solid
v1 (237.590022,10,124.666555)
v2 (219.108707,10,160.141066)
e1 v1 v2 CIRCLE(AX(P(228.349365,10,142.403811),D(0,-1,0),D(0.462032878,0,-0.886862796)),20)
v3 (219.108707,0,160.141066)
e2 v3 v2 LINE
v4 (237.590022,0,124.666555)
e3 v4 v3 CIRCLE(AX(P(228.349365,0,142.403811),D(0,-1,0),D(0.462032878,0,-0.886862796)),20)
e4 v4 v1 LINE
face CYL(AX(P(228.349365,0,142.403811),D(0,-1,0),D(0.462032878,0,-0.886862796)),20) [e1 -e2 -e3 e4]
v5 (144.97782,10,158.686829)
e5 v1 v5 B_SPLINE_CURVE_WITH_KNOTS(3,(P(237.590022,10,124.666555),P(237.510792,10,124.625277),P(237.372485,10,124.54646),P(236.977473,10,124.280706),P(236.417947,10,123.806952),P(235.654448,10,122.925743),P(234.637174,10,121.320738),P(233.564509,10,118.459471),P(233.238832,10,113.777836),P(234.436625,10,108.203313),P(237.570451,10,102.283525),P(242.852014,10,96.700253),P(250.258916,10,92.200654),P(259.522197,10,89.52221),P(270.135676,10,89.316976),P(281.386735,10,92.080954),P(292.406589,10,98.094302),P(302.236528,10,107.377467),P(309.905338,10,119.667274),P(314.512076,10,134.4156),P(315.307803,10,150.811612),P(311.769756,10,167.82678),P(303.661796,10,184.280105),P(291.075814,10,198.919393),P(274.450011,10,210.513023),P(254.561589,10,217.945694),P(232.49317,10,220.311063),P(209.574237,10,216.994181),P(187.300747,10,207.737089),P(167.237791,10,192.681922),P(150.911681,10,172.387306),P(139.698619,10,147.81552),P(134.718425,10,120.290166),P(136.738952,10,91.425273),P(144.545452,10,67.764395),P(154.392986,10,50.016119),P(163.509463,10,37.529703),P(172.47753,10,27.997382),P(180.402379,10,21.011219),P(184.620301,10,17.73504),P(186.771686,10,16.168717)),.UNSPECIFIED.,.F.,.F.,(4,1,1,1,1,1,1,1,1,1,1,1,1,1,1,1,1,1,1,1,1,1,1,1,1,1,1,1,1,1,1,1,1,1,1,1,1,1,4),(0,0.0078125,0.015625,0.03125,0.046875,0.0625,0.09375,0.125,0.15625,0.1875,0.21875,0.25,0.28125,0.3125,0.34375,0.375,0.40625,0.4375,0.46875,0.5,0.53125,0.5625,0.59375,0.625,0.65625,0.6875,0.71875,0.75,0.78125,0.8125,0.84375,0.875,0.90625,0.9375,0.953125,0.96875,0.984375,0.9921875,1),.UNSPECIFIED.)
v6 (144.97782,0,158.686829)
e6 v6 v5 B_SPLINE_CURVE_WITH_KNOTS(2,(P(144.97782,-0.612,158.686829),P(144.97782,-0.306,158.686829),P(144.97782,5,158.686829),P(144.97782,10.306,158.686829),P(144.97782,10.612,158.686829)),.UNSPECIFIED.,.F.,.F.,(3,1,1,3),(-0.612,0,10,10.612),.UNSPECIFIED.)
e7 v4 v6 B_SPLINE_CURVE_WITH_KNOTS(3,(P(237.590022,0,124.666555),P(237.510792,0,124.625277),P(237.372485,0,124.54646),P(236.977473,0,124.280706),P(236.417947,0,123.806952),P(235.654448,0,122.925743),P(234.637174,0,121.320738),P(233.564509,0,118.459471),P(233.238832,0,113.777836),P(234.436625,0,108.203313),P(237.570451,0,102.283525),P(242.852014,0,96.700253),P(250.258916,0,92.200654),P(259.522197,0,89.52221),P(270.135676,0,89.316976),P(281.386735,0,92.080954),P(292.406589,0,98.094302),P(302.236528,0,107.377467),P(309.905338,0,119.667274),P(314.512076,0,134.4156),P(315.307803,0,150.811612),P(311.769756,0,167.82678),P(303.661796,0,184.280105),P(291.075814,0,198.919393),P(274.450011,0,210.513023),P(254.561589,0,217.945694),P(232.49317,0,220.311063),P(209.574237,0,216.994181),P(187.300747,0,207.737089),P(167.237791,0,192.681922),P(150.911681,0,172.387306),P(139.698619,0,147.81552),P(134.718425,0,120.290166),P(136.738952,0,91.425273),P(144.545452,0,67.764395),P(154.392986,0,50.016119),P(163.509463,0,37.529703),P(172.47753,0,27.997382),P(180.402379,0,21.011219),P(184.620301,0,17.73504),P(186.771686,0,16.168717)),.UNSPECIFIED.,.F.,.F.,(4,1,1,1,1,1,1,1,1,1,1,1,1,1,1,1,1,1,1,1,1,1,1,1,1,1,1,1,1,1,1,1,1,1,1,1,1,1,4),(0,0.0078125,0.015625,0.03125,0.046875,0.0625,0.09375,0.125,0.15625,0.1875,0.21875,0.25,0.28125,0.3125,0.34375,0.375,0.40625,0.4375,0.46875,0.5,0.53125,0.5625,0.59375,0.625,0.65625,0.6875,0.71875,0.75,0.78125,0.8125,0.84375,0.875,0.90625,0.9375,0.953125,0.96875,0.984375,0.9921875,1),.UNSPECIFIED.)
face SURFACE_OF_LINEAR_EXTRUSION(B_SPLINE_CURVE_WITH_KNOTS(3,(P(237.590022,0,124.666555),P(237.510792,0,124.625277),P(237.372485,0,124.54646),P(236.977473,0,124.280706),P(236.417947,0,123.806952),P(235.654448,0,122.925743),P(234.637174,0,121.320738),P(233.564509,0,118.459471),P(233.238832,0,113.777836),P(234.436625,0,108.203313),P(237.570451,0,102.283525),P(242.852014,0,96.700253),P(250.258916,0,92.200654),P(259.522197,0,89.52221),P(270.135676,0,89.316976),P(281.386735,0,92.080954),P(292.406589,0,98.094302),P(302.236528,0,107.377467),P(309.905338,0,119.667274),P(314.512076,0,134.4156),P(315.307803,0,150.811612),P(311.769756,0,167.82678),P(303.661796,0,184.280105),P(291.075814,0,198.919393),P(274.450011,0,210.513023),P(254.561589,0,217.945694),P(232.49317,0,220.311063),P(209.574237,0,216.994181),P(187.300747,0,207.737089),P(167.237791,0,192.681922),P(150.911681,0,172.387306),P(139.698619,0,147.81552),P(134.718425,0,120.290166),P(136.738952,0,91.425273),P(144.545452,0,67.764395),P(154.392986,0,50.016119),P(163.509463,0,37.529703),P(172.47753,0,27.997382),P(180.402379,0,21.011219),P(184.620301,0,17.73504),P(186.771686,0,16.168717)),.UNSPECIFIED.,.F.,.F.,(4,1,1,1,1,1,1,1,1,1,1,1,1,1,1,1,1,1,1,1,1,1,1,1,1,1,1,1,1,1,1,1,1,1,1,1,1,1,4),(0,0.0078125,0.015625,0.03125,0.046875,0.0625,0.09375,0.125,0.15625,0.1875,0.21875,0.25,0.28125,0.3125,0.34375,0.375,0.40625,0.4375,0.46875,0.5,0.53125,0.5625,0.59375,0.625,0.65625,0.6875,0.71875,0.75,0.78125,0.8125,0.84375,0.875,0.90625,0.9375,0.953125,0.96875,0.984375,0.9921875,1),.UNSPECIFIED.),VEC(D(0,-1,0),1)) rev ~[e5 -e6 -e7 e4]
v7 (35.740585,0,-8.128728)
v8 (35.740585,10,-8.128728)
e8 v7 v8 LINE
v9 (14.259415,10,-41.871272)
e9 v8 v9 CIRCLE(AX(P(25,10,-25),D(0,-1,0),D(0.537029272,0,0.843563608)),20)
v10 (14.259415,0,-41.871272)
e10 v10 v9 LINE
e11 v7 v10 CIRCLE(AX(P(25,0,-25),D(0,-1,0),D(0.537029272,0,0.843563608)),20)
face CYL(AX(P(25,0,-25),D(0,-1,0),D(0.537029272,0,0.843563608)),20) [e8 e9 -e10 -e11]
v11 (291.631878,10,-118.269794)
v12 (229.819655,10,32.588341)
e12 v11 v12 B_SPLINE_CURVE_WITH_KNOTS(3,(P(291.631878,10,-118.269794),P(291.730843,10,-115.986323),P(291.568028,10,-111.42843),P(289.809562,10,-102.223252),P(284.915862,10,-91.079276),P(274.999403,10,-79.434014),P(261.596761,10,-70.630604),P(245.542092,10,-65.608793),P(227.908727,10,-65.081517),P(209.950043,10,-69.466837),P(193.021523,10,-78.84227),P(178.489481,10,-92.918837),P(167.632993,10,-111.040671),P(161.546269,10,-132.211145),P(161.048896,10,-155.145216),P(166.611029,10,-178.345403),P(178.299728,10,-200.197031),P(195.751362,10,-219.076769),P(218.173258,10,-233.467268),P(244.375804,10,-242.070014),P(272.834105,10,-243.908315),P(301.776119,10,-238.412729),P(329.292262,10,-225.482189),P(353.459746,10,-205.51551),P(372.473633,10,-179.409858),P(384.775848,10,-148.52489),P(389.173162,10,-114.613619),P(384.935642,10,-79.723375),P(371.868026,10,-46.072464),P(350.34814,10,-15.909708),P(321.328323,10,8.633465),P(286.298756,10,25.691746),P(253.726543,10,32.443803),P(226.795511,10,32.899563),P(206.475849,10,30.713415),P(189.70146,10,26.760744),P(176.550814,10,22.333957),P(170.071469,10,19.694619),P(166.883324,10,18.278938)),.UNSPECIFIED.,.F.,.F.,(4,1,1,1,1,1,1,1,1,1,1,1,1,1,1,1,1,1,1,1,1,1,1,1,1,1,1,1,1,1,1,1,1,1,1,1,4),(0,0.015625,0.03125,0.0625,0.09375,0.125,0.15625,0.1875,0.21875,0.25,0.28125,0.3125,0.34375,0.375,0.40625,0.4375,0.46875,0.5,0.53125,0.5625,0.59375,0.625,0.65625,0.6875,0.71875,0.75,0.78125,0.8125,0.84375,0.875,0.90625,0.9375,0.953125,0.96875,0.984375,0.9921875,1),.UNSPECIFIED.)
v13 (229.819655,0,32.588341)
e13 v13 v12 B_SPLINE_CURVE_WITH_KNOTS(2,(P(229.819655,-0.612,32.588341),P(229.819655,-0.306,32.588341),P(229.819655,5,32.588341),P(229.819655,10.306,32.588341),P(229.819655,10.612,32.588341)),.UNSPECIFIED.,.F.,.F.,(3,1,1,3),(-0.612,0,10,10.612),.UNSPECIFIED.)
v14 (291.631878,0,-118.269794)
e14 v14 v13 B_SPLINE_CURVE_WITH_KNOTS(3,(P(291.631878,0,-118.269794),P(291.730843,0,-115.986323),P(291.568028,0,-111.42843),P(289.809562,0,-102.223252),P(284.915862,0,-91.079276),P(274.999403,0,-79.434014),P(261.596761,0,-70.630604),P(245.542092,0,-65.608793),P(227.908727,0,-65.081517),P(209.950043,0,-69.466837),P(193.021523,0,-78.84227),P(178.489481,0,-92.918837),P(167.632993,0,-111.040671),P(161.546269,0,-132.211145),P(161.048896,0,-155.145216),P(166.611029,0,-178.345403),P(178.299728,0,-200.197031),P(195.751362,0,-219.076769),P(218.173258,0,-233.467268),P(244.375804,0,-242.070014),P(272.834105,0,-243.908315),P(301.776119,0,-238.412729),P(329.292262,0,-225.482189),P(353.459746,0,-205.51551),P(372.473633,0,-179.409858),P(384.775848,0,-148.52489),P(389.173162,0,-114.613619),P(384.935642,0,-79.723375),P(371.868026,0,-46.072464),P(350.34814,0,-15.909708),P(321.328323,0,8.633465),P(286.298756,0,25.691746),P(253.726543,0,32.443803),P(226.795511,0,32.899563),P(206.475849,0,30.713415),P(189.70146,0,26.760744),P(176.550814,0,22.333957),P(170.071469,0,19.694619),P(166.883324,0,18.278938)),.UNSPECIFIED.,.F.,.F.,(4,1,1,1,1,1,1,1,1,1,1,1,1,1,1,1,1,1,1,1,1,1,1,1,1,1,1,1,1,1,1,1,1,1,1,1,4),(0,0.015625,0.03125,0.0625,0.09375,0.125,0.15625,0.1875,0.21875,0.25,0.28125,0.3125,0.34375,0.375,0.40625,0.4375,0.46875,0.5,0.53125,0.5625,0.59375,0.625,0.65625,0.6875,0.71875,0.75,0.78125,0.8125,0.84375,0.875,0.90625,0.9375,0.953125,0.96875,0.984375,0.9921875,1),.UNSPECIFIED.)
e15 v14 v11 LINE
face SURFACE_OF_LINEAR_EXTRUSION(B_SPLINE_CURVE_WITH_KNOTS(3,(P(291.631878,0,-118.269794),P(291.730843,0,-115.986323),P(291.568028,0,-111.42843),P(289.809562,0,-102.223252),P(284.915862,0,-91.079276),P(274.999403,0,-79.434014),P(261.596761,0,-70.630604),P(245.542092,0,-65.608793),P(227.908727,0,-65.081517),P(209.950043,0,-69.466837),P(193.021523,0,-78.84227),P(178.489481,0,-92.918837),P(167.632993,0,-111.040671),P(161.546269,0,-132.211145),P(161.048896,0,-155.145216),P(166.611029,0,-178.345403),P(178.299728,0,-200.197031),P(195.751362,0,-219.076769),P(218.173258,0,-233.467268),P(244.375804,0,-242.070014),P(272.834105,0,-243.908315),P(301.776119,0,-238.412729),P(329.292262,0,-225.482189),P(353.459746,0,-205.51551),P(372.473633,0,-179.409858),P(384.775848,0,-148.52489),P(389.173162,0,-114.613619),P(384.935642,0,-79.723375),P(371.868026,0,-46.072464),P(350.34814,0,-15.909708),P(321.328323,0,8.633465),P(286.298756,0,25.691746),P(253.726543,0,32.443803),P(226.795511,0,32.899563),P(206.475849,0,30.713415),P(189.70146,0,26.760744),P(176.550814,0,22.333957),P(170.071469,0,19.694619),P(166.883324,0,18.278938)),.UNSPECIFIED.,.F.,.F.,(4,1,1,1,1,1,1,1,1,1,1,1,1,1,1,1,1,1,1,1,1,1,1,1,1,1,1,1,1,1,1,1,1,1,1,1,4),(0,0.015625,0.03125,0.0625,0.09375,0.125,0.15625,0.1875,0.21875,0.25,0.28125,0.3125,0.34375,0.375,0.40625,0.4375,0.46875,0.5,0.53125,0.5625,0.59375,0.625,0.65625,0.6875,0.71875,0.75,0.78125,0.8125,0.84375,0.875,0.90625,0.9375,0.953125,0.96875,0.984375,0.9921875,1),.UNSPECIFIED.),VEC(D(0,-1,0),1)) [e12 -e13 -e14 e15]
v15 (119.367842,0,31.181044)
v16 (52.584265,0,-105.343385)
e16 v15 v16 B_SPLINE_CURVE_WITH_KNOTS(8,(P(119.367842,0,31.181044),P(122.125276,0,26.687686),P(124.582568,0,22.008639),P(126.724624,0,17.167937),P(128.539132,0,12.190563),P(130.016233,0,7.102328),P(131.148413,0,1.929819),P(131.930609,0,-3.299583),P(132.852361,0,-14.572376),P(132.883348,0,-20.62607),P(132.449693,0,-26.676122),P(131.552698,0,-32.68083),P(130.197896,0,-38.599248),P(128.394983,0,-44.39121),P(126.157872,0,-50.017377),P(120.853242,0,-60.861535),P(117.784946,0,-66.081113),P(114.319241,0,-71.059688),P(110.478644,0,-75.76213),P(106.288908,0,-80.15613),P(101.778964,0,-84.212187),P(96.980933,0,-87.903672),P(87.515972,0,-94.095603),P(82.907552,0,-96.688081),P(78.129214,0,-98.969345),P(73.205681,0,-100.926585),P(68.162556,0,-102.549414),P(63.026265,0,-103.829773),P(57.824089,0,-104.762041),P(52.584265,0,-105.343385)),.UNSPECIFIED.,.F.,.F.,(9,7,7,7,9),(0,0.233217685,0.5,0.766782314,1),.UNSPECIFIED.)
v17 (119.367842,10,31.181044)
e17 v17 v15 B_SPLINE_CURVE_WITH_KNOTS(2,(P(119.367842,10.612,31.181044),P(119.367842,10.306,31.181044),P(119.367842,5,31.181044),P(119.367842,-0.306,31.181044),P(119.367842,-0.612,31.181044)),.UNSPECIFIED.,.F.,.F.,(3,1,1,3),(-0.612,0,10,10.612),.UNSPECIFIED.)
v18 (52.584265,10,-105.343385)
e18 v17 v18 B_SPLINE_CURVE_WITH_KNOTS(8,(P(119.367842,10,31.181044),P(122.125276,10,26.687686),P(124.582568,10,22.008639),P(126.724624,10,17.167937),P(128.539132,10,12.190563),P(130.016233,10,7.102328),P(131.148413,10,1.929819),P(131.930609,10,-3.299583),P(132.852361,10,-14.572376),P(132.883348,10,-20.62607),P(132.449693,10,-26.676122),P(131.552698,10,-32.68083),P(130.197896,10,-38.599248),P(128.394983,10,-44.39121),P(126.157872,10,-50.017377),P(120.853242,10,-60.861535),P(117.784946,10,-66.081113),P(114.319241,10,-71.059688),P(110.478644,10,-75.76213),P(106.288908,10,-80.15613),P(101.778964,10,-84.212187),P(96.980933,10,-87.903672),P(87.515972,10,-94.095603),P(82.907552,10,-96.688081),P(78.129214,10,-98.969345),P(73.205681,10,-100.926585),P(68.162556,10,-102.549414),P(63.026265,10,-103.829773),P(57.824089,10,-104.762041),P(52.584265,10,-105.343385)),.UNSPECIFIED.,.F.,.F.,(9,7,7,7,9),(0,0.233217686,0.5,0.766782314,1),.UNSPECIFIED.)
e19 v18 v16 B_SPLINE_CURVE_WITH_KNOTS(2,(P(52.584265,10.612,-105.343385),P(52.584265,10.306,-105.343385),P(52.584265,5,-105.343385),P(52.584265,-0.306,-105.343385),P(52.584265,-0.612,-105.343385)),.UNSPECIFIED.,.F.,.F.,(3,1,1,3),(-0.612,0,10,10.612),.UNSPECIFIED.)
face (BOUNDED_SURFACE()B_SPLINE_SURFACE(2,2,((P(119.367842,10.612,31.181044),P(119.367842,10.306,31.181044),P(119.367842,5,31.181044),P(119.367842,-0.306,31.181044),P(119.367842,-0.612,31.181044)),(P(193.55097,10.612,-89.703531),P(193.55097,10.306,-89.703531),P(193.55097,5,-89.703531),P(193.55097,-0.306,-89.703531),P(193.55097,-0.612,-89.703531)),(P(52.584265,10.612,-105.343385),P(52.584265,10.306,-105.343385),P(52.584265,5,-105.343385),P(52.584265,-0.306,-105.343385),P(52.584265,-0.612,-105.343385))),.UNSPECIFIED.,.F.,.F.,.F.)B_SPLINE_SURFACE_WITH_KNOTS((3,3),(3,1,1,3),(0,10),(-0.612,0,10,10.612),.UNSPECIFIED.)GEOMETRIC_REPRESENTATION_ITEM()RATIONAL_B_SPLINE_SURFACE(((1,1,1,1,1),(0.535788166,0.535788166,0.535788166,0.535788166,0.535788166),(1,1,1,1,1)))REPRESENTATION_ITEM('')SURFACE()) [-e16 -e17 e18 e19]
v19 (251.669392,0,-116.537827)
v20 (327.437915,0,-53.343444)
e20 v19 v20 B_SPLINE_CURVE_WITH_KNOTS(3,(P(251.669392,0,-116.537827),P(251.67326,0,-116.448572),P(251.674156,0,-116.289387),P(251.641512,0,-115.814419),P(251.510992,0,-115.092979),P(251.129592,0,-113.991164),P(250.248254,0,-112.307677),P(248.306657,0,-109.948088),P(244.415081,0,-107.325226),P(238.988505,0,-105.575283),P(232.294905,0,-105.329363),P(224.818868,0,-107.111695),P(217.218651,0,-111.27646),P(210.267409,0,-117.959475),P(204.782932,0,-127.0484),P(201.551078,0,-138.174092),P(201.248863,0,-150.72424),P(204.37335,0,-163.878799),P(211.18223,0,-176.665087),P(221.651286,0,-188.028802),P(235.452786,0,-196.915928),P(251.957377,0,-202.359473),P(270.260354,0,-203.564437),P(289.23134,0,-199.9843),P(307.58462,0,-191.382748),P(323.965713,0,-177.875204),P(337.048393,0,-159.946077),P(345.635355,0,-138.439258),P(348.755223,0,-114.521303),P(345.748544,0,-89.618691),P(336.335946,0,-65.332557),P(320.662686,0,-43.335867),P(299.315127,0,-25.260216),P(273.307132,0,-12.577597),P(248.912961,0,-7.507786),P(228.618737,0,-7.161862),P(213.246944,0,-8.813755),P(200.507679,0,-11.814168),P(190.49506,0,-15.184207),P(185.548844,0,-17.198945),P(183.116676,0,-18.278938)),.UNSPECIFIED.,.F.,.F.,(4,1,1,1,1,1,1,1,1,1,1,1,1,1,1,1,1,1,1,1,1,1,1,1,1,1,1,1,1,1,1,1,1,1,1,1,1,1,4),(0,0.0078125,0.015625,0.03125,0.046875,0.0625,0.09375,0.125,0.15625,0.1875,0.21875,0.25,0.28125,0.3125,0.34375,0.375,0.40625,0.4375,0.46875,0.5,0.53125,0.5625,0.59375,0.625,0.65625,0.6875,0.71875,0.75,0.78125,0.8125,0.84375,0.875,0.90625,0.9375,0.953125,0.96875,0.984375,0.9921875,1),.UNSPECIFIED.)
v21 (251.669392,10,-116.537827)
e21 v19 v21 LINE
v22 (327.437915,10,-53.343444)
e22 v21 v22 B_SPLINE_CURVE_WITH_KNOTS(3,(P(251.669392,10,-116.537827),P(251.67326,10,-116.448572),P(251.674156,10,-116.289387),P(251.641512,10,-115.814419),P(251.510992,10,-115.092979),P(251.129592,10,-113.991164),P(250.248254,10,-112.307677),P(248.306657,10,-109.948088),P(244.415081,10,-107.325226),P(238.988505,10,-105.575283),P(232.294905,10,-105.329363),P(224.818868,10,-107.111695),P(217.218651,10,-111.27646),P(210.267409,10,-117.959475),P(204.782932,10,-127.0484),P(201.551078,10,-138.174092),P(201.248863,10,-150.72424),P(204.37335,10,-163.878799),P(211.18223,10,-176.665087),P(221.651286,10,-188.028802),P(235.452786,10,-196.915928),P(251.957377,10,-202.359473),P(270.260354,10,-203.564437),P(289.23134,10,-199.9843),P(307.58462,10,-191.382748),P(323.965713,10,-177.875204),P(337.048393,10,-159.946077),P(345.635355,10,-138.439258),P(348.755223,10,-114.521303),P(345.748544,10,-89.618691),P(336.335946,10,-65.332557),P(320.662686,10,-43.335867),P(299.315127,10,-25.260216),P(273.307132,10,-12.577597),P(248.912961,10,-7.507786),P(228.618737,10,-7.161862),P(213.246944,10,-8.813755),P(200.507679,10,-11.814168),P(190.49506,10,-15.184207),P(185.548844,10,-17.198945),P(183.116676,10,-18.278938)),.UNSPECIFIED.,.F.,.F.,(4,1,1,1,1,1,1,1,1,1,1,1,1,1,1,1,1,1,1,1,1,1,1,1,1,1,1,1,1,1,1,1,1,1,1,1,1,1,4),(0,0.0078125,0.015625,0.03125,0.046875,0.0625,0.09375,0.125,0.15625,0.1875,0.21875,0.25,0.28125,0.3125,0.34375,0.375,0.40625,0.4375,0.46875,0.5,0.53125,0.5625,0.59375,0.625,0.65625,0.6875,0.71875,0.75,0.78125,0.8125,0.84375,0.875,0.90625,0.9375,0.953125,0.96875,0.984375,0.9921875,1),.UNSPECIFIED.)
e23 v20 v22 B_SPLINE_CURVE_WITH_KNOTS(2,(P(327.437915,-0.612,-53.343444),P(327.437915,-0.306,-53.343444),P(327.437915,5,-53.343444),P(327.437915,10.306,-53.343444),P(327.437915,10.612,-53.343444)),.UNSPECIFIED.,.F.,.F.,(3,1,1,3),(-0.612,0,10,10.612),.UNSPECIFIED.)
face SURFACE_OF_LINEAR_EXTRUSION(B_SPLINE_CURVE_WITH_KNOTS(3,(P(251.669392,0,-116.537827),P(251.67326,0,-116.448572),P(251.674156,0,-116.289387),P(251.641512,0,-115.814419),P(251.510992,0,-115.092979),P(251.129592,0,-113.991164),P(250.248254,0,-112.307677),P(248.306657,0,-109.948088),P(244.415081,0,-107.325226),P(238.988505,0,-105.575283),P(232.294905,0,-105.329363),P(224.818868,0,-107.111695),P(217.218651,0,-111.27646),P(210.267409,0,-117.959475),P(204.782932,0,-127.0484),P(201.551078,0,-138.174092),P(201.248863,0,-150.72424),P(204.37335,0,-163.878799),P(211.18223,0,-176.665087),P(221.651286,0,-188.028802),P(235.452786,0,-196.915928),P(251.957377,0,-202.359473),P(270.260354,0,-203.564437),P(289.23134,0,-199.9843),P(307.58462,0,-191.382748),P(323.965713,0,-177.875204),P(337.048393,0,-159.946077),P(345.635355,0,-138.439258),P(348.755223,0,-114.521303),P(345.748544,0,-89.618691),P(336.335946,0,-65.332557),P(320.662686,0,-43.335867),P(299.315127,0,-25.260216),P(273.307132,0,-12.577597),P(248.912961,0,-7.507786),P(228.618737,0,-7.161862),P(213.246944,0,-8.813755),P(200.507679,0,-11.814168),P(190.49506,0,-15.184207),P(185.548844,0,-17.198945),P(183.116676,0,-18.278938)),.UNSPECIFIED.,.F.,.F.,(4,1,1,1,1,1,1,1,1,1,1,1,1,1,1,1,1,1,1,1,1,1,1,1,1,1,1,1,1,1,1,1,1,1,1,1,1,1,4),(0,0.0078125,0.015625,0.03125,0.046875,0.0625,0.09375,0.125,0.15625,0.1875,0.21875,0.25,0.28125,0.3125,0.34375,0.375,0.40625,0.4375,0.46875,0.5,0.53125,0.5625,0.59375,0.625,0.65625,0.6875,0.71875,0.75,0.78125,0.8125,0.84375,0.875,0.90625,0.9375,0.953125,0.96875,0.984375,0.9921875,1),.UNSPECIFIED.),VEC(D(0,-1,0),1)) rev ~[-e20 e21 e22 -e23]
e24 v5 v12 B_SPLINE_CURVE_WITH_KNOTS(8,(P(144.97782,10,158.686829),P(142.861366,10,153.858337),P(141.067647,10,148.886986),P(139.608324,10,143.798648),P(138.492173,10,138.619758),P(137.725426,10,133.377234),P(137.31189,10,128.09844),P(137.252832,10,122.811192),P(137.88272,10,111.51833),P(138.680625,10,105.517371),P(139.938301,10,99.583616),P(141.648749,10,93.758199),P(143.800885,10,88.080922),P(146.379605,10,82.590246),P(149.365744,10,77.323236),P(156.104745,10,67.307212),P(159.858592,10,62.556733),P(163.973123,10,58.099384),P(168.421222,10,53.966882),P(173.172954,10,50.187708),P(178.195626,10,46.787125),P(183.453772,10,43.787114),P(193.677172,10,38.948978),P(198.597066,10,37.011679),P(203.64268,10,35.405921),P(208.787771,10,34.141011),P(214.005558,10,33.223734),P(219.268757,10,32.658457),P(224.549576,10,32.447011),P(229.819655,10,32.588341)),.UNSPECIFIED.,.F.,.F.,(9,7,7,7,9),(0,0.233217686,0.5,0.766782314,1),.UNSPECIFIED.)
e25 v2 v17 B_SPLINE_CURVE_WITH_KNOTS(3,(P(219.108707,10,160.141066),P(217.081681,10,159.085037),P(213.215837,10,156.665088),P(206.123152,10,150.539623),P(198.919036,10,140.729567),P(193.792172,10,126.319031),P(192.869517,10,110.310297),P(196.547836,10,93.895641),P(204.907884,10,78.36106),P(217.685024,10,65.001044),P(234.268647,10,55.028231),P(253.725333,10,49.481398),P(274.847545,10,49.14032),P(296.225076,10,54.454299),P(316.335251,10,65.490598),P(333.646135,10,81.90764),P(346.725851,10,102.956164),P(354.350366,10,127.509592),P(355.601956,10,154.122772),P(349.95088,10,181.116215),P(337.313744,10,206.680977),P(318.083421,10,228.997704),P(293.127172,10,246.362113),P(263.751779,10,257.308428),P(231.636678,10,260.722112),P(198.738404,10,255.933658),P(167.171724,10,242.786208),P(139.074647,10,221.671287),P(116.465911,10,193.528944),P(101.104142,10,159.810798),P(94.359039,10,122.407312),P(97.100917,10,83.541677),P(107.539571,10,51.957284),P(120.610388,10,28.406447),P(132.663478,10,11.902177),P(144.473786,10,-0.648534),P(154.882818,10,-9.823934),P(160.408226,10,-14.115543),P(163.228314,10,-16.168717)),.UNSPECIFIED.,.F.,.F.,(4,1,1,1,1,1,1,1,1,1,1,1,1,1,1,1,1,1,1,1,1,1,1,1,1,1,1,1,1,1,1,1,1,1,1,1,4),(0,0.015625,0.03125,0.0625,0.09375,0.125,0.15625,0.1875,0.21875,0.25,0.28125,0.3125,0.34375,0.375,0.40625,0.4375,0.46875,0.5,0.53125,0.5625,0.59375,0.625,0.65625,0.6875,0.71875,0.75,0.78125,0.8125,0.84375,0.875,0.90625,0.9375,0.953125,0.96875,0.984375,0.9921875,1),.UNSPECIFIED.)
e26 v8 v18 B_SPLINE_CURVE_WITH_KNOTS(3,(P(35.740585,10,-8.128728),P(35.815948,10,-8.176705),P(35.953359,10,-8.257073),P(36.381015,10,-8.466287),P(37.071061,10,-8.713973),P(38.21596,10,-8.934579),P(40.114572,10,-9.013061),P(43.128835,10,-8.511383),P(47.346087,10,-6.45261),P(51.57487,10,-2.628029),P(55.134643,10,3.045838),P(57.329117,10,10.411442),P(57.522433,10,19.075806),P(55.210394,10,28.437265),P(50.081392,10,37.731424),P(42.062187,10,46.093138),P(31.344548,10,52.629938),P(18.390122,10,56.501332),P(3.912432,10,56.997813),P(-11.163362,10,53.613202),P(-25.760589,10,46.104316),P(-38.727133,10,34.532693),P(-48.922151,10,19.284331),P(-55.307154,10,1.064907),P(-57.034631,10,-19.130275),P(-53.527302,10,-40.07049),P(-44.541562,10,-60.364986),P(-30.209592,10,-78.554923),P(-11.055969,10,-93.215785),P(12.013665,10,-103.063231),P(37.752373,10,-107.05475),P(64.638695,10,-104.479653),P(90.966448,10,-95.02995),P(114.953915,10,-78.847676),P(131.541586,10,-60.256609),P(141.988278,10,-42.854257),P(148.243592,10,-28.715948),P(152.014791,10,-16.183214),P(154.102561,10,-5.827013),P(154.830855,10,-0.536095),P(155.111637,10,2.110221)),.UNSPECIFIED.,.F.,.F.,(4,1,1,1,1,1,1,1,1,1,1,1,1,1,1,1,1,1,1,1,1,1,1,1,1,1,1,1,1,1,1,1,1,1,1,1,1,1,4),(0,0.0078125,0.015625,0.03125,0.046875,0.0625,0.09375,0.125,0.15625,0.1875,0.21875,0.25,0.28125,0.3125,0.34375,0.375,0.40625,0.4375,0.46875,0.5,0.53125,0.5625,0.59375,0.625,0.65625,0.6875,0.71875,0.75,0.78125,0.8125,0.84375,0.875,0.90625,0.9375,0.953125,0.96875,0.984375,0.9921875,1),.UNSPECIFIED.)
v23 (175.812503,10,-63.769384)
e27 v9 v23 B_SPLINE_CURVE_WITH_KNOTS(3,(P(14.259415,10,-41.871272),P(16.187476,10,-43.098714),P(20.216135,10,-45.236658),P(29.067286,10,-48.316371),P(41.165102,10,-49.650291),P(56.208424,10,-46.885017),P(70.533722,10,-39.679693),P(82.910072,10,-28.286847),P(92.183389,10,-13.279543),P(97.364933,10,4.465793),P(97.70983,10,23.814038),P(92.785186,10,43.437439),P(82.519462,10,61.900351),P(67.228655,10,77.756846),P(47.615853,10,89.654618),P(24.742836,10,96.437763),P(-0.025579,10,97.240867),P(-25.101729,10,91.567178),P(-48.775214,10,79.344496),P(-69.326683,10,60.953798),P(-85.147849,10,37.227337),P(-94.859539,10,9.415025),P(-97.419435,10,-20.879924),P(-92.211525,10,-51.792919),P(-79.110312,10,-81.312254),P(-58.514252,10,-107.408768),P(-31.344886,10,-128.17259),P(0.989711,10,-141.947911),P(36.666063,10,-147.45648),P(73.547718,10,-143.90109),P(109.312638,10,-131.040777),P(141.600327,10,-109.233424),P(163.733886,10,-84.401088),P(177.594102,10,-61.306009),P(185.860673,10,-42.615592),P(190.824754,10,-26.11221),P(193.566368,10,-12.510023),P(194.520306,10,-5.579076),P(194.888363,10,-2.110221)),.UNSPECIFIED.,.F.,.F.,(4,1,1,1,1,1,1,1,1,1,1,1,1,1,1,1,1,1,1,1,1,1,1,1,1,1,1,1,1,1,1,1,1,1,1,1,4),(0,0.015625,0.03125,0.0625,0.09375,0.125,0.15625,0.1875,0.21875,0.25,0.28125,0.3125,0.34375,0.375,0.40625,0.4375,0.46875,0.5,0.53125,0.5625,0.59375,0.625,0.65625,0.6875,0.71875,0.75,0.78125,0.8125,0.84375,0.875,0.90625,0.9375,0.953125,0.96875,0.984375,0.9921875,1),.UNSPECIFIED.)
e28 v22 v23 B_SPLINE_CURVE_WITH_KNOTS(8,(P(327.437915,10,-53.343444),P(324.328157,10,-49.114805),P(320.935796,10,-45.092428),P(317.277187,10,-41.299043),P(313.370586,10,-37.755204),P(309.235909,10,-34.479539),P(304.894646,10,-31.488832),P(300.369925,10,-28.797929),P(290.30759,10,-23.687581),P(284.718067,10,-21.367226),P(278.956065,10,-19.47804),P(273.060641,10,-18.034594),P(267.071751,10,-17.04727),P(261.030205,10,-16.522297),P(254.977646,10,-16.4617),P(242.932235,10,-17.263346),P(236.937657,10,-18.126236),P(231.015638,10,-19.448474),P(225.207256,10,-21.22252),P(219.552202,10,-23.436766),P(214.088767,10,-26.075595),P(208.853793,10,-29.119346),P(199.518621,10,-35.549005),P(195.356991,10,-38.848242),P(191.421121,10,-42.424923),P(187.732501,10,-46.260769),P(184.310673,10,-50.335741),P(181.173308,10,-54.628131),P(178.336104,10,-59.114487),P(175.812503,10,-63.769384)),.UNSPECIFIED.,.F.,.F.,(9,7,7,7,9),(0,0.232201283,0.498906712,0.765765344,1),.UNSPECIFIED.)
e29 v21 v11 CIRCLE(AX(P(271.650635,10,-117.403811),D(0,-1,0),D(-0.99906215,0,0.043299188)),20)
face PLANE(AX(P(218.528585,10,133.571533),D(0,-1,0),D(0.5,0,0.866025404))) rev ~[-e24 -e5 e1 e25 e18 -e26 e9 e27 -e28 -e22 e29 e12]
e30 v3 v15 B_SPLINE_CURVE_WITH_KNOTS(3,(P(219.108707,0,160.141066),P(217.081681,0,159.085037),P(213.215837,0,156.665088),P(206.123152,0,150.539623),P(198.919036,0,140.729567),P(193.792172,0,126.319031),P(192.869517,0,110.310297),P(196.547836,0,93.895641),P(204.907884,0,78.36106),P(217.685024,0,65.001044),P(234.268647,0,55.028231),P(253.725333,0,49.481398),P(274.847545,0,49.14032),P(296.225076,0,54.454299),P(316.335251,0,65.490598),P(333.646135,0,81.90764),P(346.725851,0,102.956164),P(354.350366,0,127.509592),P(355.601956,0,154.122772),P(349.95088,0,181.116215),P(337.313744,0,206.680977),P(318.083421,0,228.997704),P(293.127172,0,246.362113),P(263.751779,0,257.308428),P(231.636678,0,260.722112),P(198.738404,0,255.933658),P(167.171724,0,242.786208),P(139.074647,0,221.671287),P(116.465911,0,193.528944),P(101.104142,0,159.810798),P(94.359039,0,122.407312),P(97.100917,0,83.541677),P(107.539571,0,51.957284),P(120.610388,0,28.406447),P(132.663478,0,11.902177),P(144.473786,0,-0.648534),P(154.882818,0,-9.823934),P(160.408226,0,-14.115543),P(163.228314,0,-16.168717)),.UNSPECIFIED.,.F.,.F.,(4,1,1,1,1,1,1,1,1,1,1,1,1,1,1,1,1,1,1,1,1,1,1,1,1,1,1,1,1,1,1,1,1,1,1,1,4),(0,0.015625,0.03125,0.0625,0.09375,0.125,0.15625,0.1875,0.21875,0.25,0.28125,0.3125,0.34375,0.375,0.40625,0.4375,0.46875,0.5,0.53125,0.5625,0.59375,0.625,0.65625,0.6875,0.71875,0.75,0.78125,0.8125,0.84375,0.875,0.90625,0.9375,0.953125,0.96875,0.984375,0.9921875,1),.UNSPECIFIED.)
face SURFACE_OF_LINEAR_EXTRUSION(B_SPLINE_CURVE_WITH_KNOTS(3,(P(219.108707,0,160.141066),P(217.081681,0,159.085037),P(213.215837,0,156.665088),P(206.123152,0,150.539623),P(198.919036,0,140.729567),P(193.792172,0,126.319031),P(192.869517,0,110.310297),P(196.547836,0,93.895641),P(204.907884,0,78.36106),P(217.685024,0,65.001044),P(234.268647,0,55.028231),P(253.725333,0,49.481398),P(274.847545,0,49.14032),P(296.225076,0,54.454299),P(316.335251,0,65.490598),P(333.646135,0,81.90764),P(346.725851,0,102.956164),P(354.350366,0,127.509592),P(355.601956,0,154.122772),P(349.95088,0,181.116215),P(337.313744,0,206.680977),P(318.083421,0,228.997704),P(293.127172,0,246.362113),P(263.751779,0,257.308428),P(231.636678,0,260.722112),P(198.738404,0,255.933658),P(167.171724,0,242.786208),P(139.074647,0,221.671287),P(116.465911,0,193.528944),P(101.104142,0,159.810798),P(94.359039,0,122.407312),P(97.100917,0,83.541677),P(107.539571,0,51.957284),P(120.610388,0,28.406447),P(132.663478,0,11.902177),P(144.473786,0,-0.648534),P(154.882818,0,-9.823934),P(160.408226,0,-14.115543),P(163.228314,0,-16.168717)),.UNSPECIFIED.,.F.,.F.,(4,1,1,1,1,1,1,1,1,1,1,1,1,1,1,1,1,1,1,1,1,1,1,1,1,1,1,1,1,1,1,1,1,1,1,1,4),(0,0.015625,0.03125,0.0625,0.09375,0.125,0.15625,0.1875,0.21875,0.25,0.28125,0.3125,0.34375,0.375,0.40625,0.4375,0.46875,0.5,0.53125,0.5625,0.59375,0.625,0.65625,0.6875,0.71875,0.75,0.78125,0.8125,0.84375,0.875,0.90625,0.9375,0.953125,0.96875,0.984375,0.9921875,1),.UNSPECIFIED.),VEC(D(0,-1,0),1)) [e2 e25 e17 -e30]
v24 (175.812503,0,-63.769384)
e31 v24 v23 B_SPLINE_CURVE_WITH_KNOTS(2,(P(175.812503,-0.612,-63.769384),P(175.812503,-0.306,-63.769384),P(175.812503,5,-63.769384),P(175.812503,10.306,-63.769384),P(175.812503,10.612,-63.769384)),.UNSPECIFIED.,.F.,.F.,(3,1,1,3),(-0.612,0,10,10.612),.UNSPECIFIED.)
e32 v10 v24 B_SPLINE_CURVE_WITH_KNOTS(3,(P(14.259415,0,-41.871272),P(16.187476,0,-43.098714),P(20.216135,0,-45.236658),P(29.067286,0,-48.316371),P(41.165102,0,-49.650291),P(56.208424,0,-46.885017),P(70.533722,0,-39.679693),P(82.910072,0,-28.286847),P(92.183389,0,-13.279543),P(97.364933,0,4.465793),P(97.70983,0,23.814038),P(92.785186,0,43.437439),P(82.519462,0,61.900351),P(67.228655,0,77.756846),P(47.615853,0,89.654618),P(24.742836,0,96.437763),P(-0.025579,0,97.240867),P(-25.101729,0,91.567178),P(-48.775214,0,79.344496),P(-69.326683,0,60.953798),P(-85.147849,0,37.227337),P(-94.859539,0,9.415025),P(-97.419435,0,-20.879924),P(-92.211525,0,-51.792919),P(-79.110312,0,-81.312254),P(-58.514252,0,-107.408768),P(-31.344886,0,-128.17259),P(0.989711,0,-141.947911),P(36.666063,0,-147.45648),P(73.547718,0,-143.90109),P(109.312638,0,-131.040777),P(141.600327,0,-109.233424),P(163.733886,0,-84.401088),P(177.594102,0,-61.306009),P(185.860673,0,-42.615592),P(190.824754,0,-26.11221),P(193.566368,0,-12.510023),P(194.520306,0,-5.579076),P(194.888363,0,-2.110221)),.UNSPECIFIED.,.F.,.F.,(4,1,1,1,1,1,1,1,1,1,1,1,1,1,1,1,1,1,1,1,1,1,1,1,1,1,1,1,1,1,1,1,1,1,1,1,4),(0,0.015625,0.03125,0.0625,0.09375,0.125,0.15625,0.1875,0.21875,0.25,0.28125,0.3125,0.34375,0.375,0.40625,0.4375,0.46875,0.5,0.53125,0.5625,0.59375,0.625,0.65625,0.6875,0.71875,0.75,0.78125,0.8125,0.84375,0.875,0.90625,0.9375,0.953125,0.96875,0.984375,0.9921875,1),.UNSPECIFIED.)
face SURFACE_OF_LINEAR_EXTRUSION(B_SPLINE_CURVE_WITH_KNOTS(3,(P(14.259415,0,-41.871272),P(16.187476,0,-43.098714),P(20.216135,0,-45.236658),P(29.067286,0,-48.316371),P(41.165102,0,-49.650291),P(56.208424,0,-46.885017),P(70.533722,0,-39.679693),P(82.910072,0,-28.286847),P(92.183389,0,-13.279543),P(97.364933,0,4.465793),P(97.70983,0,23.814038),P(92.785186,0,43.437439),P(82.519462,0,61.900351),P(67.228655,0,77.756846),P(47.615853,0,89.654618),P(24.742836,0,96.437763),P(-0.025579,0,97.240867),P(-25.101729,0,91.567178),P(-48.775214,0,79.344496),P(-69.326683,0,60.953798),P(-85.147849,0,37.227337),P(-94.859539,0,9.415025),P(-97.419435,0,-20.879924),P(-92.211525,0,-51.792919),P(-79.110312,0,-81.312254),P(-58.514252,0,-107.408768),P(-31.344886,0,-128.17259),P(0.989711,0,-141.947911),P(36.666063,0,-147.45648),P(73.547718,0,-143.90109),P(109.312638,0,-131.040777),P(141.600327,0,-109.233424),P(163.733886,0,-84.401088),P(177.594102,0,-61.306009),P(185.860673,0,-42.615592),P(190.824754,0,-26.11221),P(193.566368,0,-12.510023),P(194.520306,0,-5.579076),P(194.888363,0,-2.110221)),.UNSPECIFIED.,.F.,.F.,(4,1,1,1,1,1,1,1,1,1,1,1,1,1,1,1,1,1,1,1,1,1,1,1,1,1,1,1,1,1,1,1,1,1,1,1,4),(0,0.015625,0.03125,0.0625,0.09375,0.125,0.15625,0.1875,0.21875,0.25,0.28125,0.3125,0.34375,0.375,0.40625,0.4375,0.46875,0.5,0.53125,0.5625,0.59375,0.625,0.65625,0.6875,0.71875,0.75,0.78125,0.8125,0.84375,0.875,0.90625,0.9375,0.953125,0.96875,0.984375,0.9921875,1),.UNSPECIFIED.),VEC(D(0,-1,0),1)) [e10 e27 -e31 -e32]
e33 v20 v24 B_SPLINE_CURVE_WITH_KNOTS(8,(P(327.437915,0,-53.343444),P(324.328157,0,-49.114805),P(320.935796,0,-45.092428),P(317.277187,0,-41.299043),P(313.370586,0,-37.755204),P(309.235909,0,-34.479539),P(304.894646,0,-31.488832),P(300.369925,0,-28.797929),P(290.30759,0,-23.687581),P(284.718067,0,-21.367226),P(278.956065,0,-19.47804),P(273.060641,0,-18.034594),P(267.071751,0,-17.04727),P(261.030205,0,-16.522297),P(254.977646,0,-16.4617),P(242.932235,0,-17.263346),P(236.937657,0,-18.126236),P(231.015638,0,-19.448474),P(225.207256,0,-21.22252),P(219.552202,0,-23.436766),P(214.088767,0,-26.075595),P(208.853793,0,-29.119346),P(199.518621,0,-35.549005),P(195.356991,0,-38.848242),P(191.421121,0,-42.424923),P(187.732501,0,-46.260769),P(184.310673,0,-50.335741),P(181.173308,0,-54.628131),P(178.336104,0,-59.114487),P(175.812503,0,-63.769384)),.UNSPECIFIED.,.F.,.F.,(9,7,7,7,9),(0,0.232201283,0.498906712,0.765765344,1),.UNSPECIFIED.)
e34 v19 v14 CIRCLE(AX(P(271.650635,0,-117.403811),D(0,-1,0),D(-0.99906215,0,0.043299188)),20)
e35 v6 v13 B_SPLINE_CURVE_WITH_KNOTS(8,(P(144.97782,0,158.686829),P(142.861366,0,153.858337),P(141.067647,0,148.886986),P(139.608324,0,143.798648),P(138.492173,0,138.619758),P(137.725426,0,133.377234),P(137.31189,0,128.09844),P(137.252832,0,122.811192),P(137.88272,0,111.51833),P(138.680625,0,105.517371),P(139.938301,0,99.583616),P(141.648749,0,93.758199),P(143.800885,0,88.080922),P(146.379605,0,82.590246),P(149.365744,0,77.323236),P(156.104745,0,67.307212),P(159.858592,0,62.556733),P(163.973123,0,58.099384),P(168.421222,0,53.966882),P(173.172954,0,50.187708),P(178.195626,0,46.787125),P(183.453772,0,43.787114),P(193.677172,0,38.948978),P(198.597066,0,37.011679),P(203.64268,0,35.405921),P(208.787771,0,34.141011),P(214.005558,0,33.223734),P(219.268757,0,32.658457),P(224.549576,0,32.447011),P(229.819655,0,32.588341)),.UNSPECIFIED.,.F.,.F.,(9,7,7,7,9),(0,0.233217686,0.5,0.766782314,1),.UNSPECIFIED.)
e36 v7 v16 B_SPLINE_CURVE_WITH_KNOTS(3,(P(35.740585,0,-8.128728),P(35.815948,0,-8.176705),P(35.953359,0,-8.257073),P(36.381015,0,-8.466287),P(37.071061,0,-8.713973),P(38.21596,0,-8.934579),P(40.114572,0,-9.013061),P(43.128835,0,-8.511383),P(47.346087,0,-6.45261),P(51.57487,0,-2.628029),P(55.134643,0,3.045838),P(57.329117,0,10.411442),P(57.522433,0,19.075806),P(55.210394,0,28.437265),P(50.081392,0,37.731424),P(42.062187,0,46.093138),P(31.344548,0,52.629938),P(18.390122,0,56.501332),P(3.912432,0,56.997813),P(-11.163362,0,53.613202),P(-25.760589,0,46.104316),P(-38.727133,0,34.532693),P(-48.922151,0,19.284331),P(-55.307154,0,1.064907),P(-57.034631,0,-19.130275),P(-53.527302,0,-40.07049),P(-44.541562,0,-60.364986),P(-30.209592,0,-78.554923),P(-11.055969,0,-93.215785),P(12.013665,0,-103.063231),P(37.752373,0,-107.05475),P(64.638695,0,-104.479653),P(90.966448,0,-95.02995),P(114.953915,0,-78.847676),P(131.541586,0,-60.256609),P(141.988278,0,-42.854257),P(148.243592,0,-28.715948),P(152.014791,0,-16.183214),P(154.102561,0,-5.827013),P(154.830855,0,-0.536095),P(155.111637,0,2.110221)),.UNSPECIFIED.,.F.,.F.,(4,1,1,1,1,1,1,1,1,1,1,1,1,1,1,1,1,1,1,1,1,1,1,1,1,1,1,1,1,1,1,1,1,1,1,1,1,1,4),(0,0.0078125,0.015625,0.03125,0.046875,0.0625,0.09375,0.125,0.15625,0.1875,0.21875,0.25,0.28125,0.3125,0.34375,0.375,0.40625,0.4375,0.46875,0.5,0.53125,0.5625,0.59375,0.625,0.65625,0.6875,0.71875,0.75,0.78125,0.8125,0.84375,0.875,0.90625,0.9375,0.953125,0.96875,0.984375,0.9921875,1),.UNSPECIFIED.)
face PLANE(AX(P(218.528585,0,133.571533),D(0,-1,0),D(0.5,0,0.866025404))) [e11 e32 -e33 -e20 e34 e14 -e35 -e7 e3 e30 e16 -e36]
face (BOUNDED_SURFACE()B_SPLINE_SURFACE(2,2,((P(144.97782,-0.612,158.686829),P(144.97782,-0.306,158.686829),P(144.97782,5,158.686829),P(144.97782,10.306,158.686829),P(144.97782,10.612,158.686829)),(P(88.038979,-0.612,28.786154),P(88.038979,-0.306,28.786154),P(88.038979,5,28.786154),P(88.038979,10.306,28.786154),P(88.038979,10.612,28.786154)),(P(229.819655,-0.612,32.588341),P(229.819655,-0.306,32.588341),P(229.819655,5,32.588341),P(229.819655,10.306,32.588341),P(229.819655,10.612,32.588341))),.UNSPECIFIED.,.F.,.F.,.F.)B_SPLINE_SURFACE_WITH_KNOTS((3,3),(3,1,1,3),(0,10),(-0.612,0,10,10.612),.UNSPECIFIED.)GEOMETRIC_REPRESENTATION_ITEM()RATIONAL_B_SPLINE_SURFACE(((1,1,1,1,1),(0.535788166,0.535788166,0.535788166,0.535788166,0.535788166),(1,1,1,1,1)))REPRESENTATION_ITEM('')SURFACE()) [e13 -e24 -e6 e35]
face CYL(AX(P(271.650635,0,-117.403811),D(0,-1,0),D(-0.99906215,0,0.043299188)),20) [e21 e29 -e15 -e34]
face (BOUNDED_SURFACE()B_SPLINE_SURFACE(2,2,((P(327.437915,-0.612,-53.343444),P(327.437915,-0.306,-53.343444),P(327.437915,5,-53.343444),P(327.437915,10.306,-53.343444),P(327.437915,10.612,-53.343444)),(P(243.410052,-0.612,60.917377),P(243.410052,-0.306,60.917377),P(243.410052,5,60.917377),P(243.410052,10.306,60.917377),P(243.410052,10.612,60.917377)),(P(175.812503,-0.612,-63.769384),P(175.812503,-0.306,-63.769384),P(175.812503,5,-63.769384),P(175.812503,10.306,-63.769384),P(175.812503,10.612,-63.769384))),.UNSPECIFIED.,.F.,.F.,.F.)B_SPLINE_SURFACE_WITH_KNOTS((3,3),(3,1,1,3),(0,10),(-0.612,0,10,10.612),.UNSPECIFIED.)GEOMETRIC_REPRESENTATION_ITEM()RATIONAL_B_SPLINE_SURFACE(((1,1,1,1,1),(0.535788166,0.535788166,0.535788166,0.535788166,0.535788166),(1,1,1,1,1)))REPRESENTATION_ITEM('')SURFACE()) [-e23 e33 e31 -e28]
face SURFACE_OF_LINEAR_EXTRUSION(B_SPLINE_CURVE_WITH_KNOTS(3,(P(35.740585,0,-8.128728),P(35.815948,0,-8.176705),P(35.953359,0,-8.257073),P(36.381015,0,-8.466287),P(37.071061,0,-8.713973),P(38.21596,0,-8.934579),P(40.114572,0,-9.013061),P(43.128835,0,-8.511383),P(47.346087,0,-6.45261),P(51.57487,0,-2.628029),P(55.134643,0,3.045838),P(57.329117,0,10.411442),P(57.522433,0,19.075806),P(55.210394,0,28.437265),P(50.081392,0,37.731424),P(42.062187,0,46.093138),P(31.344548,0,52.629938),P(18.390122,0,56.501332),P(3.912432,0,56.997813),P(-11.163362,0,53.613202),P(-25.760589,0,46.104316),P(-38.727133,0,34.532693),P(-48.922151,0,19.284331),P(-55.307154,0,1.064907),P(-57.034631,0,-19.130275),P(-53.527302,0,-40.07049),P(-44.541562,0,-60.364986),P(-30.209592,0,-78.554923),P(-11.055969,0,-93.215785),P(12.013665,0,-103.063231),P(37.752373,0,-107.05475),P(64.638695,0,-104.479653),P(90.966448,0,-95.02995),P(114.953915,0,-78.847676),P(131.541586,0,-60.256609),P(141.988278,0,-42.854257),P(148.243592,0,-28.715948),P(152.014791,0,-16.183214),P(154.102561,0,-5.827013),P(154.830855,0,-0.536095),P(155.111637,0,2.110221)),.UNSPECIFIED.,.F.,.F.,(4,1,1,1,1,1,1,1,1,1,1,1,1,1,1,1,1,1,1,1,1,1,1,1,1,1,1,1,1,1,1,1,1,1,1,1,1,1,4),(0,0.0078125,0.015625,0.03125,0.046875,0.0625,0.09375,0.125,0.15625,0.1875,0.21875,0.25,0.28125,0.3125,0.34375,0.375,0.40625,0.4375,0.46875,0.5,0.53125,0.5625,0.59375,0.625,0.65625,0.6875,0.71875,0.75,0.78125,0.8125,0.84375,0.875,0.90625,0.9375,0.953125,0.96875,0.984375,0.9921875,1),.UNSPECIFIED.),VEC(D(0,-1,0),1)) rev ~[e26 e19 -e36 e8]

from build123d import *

# Parameters (mm, degrees)
AUFSATZ_LINEAR_AUSTRAGEN1_DEPTH = 10
KREISMUSTER1_COUNT              = 3
VERRUNDUNG1_R                   = 90


with BuildPart() as part:
    # Skizze2 → Aufsatz-Linear austragen1 (new body)
    with BuildSketch(Plane(origin=(0, 0, 0), x_dir=(1, 0, 0), z_dir=(0, 1, 0))):
        with BuildLine():
            ThreePointArc((35.740585443, 8.128727839), (8.128727839, 14.259414557), (14.259414557, 41.871272161))
            add(Edge.make_bspline(
                [(14.259414557, 41.871272161), (16.187475942, 43.098714161), (20.216135423, 45.236658399), (29.067285828, 48.316371346), (41.165101816, 49.650290701), (56.208424096, 46.885016637), (70.533721678, 39.679693038), (82.910072025, 28.286847425), (92.183389312, 13.279543253), (97.364932507, -4.465793444), (97.709830263, -23.814038366), (92.785186033, -43.437439288), (82.519461639, -61.900350558), (67.228655244, -77.756845773), (47.615853075, -89.654618334), (24.742835887, -96.437763087), (-0.02557886, -97.240867022), (-25.101728865, -91.567177681), (-48.775213975, -79.344496344), (-69.326683453, -60.953798485), (-85.147849045, -37.227337405), (-94.85953934, -9.415025374), (-97.41943455, 20.879924205), (-92.211525172, 51.792918547), (-79.11031164, 81.312253953), (-58.514251684, 107.408768322), (-31.344886362, 128.172589737), (0.989710673, 141.94791135), (36.666062592, 147.456480048), (73.547718377, 143.901089653), (109.312638487, 131.040777038), (141.600326788, 109.233423632), (163.733886393, 84.40108778), (177.594101698, 61.306009339), (185.86067287, 42.615591874), (190.824753811, 26.112210225), (193.566367511, 12.510023084), (194.520305669, 5.579075951), (194.88836263, 2.110220815)],
                knots=[0, 0, 0, 0, 0.015625, 0.03125, 0.0625, 0.09375, 0.125, 0.15625, 0.1875, 0.21875, 0.25, 0.28125, 0.3125, 0.34375, 0.375, 0.40625, 0.4375, 0.46875, 0.5, 0.53125, 0.5625, 0.59375, 0.625, 0.65625, 0.6875, 0.71875, 0.75, 0.78125, 0.8125, 0.84375, 0.875, 0.90625, 0.9375, 0.953125, 0.96875, 0.984375, 0.9921875, 1, 1, 1, 1], degree=3))
            ThreePointArc((194.88836263, 2.110220815), (177.110220815, -19.88836263), (155.11163737, -2.110220815))
            add(Edge.make_bspline(
                [(35.740585443, 8.128727839), (35.815948013, 8.176705141), (35.953359037, 8.257073162), (36.381015155, 8.466286752), (37.07106093, 8.713973214), (38.215959628, 8.934578713), (40.114571678, 9.013061178), (43.128834596, 8.511383141), (47.346087123, 6.452609971), (51.574870074, 2.628029358), (55.134643322, -3.045837987), (57.329117234, -10.411441585), (57.52243346, -19.075806052), (55.21039378, -28.437264856), (50.081392177, -37.731423876), (42.062186879, -46.093138369), (31.344547696, -52.629937868), (18.390121642, -56.501332311), (3.91243163, -56.997813169), (-11.163362367, -53.613202202), (-25.760589136, -46.10431584), (-38.727133116, -34.53269314), (-48.922150661, -19.284331447), (-55.30715426, -1.064907202), (-57.034631388, 19.130275206), (-53.527301976, 40.070489879), (-44.541562186, 60.364986057), (-30.209591902, 78.554922756), (-11.055969468, 93.21578526), (12.013665115, 103.063231412), (37.752372998, 107.054749513), (64.63869535, 104.479652975), (90.966447733, 95.02994994), (114.953915347, 78.847675665), (131.541586358, 60.256609215), (141.98827757, 42.854257316), (148.243592414, 28.715948105), (152.014790697, 16.183214207), (154.102560909, 5.827012521), (154.830854558, 0.536094841), (155.11163737, -2.110220815)],
                knots=[0, 0, 0, 0, 0.0078125, 0.015625, 0.03125, 0.046875, 0.0625, 0.09375, 0.125, 0.15625, 0.1875, 0.21875, 0.25, 0.28125, 0.3125, 0.34375, 0.375, 0.40625, 0.4375, 0.46875, 0.5, 0.53125, 0.5625, 0.59375, 0.625, 0.65625, 0.6875, 0.71875, 0.75, 0.78125, 0.8125, 0.84375, 0.875, 0.90625, 0.9375, 0.953125, 0.96875, 0.984375, 0.9921875, 1, 1, 1, 1], degree=3))
        make_face()
    extrude(amount=AUFSATZ_LINEAR_AUSTRAGEN1_DEPTH)


with BuildPart() as kreismuster1_1:
    # Kreismuster1: pattern copy
    add(part.part.rotate(Axis((175, 10.5, 0), (0, -1, 0)), 1 * 360 / KREISMUSTER1_COUNT))


with BuildPart() as kreismuster1_2:
    # Kreismuster1: pattern copy
    add(part.part.rotate(Axis((175, 10.5, 0), (0, -1, 0)), 2 * 360 / KREISMUSTER1_COUNT))


with BuildPart() as part_1:
    add(part.part)

    # Kombinieren1: union Kreismuster1_1, Kreismuster1_2
    add(kreismuster1_1.part)
    add(kreismuster1_2.part)

    # Verrundung1
    verrundung1_edges = [part_1.edges().sort_by_distance(p)[0] for p in [
        (193.139355341, 5, -14.321779748),
        (178.333347419, 5, 22.870032408),
        (153.52729724, 5, -8.54825266),
    ]]
    fillet(verrundung1_edges, radius=VERRUNDUNG1_R)


solid = part_1.part
